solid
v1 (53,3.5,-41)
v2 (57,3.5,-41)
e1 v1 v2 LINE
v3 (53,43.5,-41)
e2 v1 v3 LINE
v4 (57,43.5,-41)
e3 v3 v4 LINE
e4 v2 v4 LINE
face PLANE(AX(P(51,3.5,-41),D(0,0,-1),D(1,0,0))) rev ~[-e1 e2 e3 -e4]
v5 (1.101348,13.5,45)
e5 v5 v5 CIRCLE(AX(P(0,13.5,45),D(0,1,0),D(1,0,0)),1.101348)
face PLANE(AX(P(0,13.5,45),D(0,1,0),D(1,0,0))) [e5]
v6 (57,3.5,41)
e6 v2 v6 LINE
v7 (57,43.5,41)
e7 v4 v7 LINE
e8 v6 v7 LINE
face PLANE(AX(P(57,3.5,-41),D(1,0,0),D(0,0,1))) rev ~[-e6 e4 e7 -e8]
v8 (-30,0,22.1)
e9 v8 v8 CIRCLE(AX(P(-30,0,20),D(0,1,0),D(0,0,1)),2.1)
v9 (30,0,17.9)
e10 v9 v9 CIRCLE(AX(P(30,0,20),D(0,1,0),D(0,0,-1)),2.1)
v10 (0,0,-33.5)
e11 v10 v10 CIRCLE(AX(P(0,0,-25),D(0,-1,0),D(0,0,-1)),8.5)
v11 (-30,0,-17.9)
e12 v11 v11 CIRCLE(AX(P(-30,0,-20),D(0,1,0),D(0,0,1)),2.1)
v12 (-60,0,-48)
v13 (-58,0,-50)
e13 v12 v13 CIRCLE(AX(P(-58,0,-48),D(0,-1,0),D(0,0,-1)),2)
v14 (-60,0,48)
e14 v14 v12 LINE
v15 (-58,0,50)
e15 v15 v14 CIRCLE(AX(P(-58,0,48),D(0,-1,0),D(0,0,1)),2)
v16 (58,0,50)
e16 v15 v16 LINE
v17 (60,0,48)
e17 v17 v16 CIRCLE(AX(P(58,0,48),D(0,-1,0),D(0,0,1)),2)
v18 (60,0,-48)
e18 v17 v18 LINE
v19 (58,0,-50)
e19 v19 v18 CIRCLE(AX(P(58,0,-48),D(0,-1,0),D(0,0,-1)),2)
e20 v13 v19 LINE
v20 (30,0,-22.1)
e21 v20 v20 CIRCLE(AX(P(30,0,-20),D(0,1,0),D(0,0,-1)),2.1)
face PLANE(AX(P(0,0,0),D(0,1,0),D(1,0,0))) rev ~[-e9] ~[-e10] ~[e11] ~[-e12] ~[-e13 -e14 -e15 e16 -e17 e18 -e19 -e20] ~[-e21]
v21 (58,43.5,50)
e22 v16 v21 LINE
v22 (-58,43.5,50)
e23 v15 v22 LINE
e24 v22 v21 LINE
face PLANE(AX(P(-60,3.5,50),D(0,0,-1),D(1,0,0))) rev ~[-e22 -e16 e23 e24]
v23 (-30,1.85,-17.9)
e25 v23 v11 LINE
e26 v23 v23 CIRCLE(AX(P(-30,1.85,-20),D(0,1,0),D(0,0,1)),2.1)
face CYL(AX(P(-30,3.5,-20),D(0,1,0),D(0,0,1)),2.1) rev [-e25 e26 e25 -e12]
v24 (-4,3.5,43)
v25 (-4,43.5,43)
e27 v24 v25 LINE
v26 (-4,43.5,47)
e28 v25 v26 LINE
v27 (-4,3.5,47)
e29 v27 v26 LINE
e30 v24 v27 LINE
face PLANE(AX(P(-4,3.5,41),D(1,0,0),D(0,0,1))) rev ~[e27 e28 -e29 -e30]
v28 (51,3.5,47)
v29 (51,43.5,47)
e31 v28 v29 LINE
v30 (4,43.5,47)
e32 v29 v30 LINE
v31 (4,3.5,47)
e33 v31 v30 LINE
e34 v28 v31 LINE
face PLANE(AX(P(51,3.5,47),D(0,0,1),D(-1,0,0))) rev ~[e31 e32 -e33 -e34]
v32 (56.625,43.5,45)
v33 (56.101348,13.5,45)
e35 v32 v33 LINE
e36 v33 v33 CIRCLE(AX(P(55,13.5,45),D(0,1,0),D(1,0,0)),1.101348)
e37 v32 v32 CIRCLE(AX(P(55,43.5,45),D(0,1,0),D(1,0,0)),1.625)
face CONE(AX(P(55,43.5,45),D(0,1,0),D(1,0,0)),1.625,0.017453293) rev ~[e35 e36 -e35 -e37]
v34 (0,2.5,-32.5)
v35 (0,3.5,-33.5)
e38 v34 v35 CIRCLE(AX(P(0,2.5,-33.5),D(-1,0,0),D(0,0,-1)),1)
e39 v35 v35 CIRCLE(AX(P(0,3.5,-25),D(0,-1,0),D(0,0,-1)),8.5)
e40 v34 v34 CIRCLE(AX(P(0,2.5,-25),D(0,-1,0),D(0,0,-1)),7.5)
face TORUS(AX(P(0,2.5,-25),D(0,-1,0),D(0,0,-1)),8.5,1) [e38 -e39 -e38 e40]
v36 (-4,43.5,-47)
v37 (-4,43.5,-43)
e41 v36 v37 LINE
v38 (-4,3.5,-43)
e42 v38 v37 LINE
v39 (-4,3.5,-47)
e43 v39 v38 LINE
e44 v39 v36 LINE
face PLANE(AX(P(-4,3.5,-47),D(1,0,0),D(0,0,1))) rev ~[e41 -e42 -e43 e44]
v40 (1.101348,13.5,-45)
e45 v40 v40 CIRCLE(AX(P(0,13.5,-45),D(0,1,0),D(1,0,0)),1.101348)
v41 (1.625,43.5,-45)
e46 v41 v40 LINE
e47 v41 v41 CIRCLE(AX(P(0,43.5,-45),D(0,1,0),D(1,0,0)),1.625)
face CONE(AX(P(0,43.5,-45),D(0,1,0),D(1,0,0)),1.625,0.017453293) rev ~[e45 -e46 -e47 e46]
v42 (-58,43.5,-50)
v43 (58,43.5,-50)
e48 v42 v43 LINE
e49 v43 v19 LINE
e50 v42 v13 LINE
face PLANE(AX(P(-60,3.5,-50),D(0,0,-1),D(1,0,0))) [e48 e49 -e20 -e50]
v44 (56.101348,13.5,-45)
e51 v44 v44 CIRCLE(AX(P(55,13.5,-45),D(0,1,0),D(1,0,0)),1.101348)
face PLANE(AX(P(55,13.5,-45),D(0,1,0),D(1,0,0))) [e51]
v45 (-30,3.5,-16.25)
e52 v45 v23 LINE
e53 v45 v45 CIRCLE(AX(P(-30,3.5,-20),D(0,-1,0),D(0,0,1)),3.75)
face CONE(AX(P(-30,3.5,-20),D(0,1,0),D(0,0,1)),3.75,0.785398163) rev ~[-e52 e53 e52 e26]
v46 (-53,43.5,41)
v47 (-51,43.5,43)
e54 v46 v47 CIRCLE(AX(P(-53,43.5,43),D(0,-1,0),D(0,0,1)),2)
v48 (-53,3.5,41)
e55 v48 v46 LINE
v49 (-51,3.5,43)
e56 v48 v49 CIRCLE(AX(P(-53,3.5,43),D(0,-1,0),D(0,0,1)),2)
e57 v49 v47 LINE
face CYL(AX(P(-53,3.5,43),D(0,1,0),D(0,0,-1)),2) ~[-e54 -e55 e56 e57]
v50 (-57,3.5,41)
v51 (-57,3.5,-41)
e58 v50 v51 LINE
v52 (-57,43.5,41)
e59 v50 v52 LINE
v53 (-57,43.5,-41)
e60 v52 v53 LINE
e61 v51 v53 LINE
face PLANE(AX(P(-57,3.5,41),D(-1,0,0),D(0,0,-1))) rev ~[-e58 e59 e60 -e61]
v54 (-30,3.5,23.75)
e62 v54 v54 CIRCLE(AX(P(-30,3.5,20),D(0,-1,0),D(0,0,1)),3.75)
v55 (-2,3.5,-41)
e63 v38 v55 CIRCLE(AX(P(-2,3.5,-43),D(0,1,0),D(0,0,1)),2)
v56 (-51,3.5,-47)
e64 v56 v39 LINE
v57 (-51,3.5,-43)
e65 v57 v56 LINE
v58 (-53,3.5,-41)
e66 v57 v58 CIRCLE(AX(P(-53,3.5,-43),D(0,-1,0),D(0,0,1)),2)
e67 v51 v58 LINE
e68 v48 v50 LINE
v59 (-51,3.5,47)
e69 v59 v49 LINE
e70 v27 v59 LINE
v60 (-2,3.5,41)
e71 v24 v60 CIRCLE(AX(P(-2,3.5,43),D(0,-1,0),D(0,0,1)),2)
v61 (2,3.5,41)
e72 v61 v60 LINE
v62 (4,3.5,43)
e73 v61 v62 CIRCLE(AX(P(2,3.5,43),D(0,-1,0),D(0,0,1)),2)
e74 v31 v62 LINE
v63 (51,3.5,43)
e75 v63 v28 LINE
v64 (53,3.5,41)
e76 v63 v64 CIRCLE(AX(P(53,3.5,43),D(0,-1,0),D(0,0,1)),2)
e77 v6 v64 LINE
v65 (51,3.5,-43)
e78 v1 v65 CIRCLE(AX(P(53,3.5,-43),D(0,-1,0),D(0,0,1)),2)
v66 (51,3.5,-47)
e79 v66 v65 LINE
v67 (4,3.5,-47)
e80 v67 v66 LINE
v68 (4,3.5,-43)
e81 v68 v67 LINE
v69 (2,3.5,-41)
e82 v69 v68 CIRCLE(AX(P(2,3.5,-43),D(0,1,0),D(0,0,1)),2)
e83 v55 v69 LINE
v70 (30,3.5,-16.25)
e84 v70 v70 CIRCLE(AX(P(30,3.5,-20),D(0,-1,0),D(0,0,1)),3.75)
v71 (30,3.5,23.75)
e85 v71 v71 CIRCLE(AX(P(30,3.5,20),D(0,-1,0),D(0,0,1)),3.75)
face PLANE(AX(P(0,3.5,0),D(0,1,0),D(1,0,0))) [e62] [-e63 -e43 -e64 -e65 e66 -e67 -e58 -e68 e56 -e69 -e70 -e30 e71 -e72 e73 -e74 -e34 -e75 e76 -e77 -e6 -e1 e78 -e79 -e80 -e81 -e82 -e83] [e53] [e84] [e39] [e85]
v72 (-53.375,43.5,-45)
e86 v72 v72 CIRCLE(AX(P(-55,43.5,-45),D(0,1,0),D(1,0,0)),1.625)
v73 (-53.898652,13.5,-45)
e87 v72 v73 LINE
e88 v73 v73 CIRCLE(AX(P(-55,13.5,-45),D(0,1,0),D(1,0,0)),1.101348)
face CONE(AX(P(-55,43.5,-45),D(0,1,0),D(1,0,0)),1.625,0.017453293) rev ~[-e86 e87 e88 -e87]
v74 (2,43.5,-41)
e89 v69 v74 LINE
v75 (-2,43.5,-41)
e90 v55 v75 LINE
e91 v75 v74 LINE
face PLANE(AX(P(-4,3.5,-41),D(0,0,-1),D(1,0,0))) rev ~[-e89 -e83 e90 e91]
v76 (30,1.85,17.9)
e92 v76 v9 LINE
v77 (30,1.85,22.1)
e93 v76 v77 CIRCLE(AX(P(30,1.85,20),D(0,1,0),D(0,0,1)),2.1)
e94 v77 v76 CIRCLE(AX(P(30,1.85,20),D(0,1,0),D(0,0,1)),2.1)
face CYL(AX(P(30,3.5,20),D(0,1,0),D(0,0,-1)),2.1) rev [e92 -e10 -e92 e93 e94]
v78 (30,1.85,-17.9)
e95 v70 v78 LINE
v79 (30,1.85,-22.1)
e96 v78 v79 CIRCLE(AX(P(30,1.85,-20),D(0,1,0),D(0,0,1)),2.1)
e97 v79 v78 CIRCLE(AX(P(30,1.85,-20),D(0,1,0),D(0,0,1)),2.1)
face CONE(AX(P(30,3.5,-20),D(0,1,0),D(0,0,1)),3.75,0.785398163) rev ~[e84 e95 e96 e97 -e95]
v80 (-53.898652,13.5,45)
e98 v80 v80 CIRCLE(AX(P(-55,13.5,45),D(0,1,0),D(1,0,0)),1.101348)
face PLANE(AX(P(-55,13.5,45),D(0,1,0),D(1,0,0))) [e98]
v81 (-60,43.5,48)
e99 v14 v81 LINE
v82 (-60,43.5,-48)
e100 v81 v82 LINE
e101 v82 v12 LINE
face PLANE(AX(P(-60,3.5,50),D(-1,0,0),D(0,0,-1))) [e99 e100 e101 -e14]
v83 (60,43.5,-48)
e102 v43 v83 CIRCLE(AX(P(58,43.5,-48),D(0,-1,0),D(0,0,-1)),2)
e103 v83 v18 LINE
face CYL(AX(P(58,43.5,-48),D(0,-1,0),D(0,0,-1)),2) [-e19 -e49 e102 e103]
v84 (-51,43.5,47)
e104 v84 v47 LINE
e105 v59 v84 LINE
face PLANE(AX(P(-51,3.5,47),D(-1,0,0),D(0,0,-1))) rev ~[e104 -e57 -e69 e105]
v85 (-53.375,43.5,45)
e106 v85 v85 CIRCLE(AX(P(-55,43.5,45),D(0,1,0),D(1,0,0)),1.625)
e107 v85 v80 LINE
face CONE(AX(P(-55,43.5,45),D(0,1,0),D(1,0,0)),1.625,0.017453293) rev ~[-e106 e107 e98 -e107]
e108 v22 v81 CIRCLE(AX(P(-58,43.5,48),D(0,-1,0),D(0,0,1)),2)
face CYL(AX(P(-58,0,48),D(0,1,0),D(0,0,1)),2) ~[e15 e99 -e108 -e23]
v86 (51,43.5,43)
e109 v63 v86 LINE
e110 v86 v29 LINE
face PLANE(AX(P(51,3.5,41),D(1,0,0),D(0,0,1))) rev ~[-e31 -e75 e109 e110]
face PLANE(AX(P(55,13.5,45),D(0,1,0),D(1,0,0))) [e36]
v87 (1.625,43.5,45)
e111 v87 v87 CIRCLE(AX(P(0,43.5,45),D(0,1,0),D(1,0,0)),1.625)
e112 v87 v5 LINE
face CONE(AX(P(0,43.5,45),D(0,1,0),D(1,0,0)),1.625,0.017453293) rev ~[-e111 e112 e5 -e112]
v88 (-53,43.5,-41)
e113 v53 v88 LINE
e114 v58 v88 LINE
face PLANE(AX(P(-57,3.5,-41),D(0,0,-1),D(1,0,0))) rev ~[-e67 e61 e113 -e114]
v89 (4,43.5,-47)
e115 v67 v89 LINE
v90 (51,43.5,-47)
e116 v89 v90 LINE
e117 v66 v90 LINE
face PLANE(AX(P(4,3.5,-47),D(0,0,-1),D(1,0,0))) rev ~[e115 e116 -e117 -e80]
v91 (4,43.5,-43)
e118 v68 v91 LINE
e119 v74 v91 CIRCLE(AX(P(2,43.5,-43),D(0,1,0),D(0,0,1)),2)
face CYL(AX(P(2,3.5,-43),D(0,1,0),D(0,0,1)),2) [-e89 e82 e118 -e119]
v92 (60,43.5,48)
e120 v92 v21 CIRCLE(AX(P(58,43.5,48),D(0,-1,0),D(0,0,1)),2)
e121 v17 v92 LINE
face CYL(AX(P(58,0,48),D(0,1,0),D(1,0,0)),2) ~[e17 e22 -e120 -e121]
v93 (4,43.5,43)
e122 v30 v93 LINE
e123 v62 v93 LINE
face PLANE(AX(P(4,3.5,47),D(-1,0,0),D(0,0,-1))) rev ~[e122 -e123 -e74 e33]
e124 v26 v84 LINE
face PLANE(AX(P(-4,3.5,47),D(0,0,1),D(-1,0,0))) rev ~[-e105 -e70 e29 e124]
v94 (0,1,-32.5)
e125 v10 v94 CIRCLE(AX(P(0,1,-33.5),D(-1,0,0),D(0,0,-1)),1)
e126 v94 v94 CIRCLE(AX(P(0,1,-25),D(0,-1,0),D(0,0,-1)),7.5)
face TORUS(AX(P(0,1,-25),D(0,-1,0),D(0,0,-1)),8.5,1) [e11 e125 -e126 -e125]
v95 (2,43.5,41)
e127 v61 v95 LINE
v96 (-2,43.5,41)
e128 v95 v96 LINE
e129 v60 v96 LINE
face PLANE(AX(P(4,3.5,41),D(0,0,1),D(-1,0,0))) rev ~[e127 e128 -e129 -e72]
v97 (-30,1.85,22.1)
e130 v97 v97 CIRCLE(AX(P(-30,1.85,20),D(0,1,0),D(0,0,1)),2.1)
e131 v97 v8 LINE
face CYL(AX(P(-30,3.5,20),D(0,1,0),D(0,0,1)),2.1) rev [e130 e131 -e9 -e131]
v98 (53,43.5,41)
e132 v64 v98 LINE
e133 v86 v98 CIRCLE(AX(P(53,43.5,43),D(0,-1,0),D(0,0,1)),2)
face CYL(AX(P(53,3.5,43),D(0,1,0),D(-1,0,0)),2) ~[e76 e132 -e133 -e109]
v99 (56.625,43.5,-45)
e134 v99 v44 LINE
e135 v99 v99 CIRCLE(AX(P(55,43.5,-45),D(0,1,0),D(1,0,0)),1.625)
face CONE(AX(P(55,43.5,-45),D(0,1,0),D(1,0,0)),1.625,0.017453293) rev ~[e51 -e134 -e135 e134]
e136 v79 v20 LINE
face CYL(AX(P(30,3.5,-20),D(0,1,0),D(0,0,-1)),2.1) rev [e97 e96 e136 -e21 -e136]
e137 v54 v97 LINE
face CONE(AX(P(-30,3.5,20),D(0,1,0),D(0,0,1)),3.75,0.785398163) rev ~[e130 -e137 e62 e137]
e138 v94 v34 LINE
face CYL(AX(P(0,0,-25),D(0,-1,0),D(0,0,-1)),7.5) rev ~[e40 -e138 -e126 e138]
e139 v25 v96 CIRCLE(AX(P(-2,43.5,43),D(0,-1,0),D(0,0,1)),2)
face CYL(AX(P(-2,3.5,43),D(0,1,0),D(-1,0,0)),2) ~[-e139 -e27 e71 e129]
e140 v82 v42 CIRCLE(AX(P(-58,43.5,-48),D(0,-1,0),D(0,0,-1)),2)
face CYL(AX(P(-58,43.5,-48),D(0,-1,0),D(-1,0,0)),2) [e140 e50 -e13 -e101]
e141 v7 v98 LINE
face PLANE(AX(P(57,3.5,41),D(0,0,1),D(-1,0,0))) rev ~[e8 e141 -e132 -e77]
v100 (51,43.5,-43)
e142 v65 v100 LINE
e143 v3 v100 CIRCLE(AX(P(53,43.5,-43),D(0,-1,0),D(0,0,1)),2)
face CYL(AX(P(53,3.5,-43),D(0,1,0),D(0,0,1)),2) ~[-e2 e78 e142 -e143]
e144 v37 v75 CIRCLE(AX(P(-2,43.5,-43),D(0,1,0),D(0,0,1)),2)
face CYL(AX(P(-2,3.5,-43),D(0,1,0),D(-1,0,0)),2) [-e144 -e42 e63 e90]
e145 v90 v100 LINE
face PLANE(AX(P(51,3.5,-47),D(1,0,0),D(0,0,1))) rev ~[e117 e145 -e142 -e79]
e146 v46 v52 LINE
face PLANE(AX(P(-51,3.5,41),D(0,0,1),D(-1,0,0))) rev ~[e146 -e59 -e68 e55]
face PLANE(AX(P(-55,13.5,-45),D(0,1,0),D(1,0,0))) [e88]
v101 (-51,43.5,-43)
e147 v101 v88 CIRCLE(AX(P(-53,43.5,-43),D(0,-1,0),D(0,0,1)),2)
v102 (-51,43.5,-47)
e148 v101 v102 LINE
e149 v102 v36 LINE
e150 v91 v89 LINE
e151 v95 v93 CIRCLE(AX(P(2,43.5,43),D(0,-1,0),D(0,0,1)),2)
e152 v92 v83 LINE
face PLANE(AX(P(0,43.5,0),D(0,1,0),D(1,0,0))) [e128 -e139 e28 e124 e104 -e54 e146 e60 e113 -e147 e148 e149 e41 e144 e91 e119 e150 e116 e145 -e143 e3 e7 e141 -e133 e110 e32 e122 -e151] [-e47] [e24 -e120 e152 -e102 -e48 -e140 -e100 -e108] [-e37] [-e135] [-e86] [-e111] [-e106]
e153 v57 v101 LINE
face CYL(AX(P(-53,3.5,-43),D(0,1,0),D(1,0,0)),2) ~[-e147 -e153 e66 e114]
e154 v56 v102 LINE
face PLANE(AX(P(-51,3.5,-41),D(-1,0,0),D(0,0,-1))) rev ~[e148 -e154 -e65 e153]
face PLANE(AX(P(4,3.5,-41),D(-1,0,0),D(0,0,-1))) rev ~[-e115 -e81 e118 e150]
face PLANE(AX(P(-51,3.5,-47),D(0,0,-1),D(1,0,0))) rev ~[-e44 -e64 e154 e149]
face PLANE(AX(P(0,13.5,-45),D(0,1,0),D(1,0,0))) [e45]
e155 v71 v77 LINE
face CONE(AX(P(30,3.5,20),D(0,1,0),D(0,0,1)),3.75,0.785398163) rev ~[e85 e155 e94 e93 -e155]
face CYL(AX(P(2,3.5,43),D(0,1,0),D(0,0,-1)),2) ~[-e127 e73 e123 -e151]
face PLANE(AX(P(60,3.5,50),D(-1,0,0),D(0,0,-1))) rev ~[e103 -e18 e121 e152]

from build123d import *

# Parameters (mm, degrees)
SKETCH1_W                             = 120
SKETCH1_H                             = 100
BOTTOM_DEPTH                          = 3.5
SKETCH3_W                             = 120
SKETCH3_H                             = 100
WALL_DEPTH                            = 40
SKETCH4_R                             = 1.625
TOP_PLATE_SCREW_HOLES_DEPTH           = 30
TOP_PLATE_SCREW_HOLES_DRAFT           = -1
TOP_PLATE_SCREW_HOLES_PROFILE_2_DEPTH = 30
TOP_PLATE_SCREW_HOLES_PROFILE_2_DRAFT = -1
TOP_PLATE_SCREW_HOLES_PROFILE_3_DEPTH = 30
TOP_PLATE_SCREW_HOLES_PROFILE_3_DRAFT = -1
TOP_PLATE_SCREW_HOLES_PROFILE_4_DEPTH = 30
TOP_PLATE_SCREW_HOLES_PROFILE_4_DRAFT = -1
TOP_PLATE_SCREW_HOLES_PROFILE_5_DEPTH = 30
TOP_PLATE_SCREW_HOLES_PROFILE_5_DRAFT = -1
TOP_PLATE_SCREW_HOLES_PROFILE_6_DEPTH = 30
TOP_PLATE_SCREW_HOLES_PROFILE_6_DRAFT = -1
FILLET14_R                            = 2
FILLET13_R                            = 2
FILLET12_R                            = 2
FILLET11_R                            = 2
FILLET1_R                             = 2
FILLET2_R                             = 2
FILLET3_R                             = 2
FILLET4_R                             = 2
FILLET5_R                             = 2
FILLET6_R                             = 2
FILLET7_R                             = 2
FILLET8_R                             = 2
M4_MOUNT_R                            = 2.1
M4_MOUNT_CUT_DEPTH                    = 88.749643874
SKETCH7_R                             = 7.5
USB_CABEL_CUT_DEPTH                   = 90.399384785
FILLET9_R                             = 1
FILLET10_R                            = 1


with BuildPart() as part:
    # Sketch1 → Bottom (new body)
    with BuildSketch(Plane(origin=(0, 0, 0), x_dir=(1, 0, 0), z_dir=(0, 1, 0))):
        Rectangle(SKETCH1_W, SKETCH1_H)
    extrude(amount=BOTTOM_DEPTH)

    # Sketch3 → Wall (add)
    with BuildSketch(Plane(origin=(0, 3.5, 0), x_dir=(1, 0, 0), z_dir=(0, 1, 0))):
        Rectangle(SKETCH3_W, SKETCH3_H)
        Polygon((-51, 47), (-4, 47), (-4, 41), (4, 41), (4, 47), (51, 47), (51, 41), (57, 41), (57, -41), (51, -41), (51, -47), (4, -47), (4, -41), (-4, -41), (-4, -47), (-51, -47), (-51, -41), (-57, -41), (-57, 41), (-51, 41), align=None, mode=Mode.SUBTRACT)
    extrude(amount=WALL_DEPTH)


with BuildPart() as top_plate_screw_holes_tool:
    # Sketch4 → Top Plate Screw Holes (with draft: the straight prism first)
    with BuildSketch(Plane(origin=(0, 43.5, 0), x_dir=(1, 0, 0), z_dir=(0, 1, 0))):
        with Locations((-55, 45)):
            Circle(SKETCH4_R)
    extrude(amount=-TOP_PLATE_SCREW_HOLES_DEPTH)
    # Top Plate Screw Holes: the draft: its side faces are tilted about the plane it starts from
    top_plate_screw_holes_sides = [top_plate_screw_holes_tool.faces().sort_by_distance(p)[0] for p in [
        (-56.625, 28.5, -45),
    ]]
    draft(top_plate_screw_holes_sides, Plane(origin=(0, 43.5, 0), x_dir=(1, 0, 0), z_dir=(0, 1, 0)), TOP_PLATE_SCREW_HOLES_DRAFT)


with BuildPart() as part_1:
    add(part.part)

    # Top Plate Screw Holes: cut by top_plate_screw_holes_tool
    add(top_plate_screw_holes_tool.part, mode=Mode.SUBTRACT)


with BuildPart() as top_plate_screw_holes_profile_2_tool:
    # Sketch4 → Top Plate Screw Holes profile 2 (with draft: the straight prism first)
    with BuildSketch(Plane(origin=(0, 43.5, 0), x_dir=(1, 0, 0), z_dir=(0, 1, 0))):
        with Locations((55, 45)):
            Circle(SKETCH4_R)
    extrude(amount=-TOP_PLATE_SCREW_HOLES_PROFILE_2_DEPTH)
    # Top Plate Screw Holes profile 2: the draft: its side faces are tilted about the plane it starts from
    top_plate_screw_holes_profile_2_sides = [top_plate_screw_holes_profile_2_tool.faces().sort_by_distance(p)[0] for p in [
        (53.375, 28.5, -45),
    ]]
    draft(top_plate_screw_holes_profile_2_sides, Plane(origin=(0, 43.5, 0), x_dir=(1, 0, 0), z_dir=(0, 1, 0)), TOP_PLATE_SCREW_HOLES_PROFILE_2_DRAFT)


with BuildPart() as part_2:
    add(part_1.part)

    # Top Plate Screw Holes profile 2: cut by top_plate_screw_holes_profile_2_tool
    add(top_plate_screw_holes_profile_2_tool.part, mode=Mode.SUBTRACT)


with BuildPart() as top_plate_screw_holes_profile_3_tool:
    # Sketch4 → Top Plate Screw Holes profile 3 (with draft: the straight prism first)
    with BuildSketch(Plane(origin=(0, 43.5, 0), x_dir=(1, 0, 0), z_dir=(0, 1, 0))):
        with Locations((55, -45)):
            Circle(SKETCH4_R)
    extrude(amount=-TOP_PLATE_SCREW_HOLES_PROFILE_3_DEPTH)
    # Top Plate Screw Holes profile 3: the draft: its side faces are tilted about the plane it starts from
    top_plate_screw_holes_profile_3_sides = [top_plate_screw_holes_profile_3_tool.faces().sort_by_distance(p)[0] for p in [
        (53.375, 28.5, 45),
    ]]
    draft(top_plate_screw_holes_profile_3_sides, Plane(origin=(0, 43.5, 0), x_dir=(1, 0, 0), z_dir=(0, 1, 0)), TOP_PLATE_SCREW_HOLES_PROFILE_3_DRAFT)


with BuildPart() as part_3:
    add(part_2.part)

    # Top Plate Screw Holes profile 3: cut by top_plate_screw_holes_profile_3_tool
    add(top_plate_screw_holes_profile_3_tool.part, mode=Mode.SUBTRACT)


with BuildPart() as top_plate_screw_holes_profile_4_tool:
    # Sketch4 → Top Plate Screw Holes profile 4 (with draft: the straight prism first)
    with BuildSketch(Plane(origin=(0, 43.5, 0), x_dir=(1, 0, 0), z_dir=(0, 1, 0))):
        with Locations((-55, -45)):
            Circle(SKETCH4_R)
    extrude(amount=-TOP_PLATE_SCREW_HOLES_PROFILE_4_DEPTH)
    # Top Plate Screw Holes profile 4: the draft: its side faces are tilted about the plane it starts from
    top_plate_screw_holes_profile_4_sides = [top_plate_screw_holes_profile_4_tool.faces().sort_by_distance(p)[0] for p in [
        (-56.625, 28.5, 45),
    ]]
    draft(top_plate_screw_holes_profile_4_sides, Plane(origin=(0, 43.5, 0), x_dir=(1, 0, 0), z_dir=(0, 1, 0)), TOP_PLATE_SCREW_HOLES_PROFILE_4_DRAFT)


with BuildPart() as part_4:
    add(part_3.part)

    # Top Plate Screw Holes profile 4: cut by top_plate_screw_holes_profile_4_tool
    add(top_plate_screw_holes_profile_4_tool.part, mode=Mode.SUBTRACT)


with BuildPart() as top_plate_screw_holes_profile_5_tool:
    # Sketch4 → Top Plate Screw Holes profile 5 (with draft: the straight prism first)
    with BuildSketch(Plane(origin=(0, 43.5, 0), x_dir=(1, 0, 0), z_dir=(0, 1, 0))):
        with Locations((0, 45)):
            Circle(SKETCH4_R)
    extrude(amount=-TOP_PLATE_SCREW_HOLES_PROFILE_5_DEPTH)
    # Top Plate Screw Holes profile 5: the draft: its side faces are tilted about the plane it starts from
    top_plate_screw_holes_profile_5_sides = [top_plate_screw_holes_profile_5_tool.faces().sort_by_distance(p)[0] for p in [
        (-1.625, 28.5, -45),
    ]]
    draft(top_plate_screw_holes_profile_5_sides, Plane(origin=(0, 43.5, 0), x_dir=(1, 0, 0), z_dir=(0, 1, 0)), TOP_PLATE_SCREW_HOLES_PROFILE_5_DRAFT)


with BuildPart() as part_5:
    add(part_4.part)

    # Top Plate Screw Holes profile 5: cut by top_plate_screw_holes_profile_5_tool
    add(top_plate_screw_holes_profile_5_tool.part, mode=Mode.SUBTRACT)


with BuildPart() as top_plate_screw_holes_profile_6_tool:
    # Sketch4 → Top Plate Screw Holes profile 6 (with draft: the straight prism first)
    with BuildSketch(Plane(origin=(0, 43.5, 0), x_dir=(1, 0, 0), z_dir=(0, 1, 0))):
        with Locations((0, -45)):
            Circle(SKETCH4_R)
    extrude(amount=-TOP_PLATE_SCREW_HOLES_PROFILE_6_DEPTH)
    # Top Plate Screw Holes profile 6: the draft: its side faces are tilted about the plane it starts from
    top_plate_screw_holes_profile_6_sides = [top_plate_screw_holes_profile_6_tool.faces().sort_by_distance(p)[0] for p in [
        (-1.625, 28.5, 45),
    ]]
    draft(top_plate_screw_holes_profile_6_sides, Plane(origin=(0, 43.5, 0), x_dir=(1, 0, 0), z_dir=(0, 1, 0)), TOP_PLATE_SCREW_HOLES_PROFILE_6_DRAFT)


with BuildPart() as part_6:
    add(part_5.part)

    # Top Plate Screw Holes profile 6: cut by top_plate_screw_holes_profile_6_tool
    add(top_plate_screw_holes_profile_6_tool.part, mode=Mode.SUBTRACT)

    # Fillet14
    fillet14_edges = [part_6.edges().sort_by_distance(p)[0] for p in [
        (-4, 23.5, 41),
    ]]
    fillet(fillet14_edges, radius=FILLET14_R)

    # Fillet13
    fillet13_edges = [part_6.edges().sort_by_distance(p)[0] for p in [
        (4, 23.5, 41),
    ]]
    fillet(fillet13_edges, radius=FILLET13_R)

    # Fillet12
    fillet12_edges = [part_6.edges().sort_by_distance(p)[0] for p in [
        (-4, 23.5, -41),
    ]]
    fillet(fillet12_edges, radius=FILLET12_R)

    # Fillet11
    fillet11_edges = [part_6.edges().sort_by_distance(p)[0] for p in [
        (4, 23.5, -41),
    ]]
    fillet(fillet11_edges, radius=FILLET11_R)

    # Fillet1
    fillet1_edges = [part_6.edges().sort_by_distance(p)[0] for p in [
        (-51, 23.5, 41),
    ]]
    fillet(fillet1_edges, radius=FILLET1_R)

    # Fillet2
    fillet2_edges = [part_6.edges().sort_by_distance(p)[0] for p in [
        (51, 23.5, 41),
    ]]
    fillet(fillet2_edges, radius=FILLET2_R)

    # Fillet3
    fillet3_edges = [part_6.edges().sort_by_distance(p)[0] for p in [
        (51, 23.5, -41),
    ]]
    fillet(fillet3_edges, radius=FILLET3_R)

    # Fillet4
    fillet4_edges = [part_6.edges().sort_by_distance(p)[0] for p in [
        (-51, 23.5, -41),
    ]]
    fillet(fillet4_edges, radius=FILLET4_R)

    # Fillet5
    fillet5_edges = [part_6.edges().sort_by_distance(p)[0] for p in [
        (-60, 21.75, -50),
    ]]
    fillet(fillet5_edges, radius=FILLET5_R)

    # Fillet6
    fillet6_edges = [part_6.edges().sort_by_distance(p)[0] for p in [
        (60, 21.75, -50),
    ]]
    fillet(fillet6_edges, radius=FILLET6_R)

    # Fillet7
    fillet7_edges = [part_6.edges().sort_by_distance(p)[0] for p in [
        (60, 21.75, 50),
    ]]
    fillet(fillet7_edges, radius=FILLET7_R)

    # Fillet8
    fillet8_edges = [part_6.edges().sort_by_distance(p)[0] for p in [
        (-60, 21.75, 50),
    ]]
    fillet(fillet8_edges, radius=FILLET8_R)

    # M4 Mount → M4 Mount Cut (cut, through all)
    with BuildSketch(Plane.XZ.offset(-3.5)):
        with Locations(Location((30, -20, 0), (0, 0, 270))):
            Circle(M4_MOUNT_R)
        with Locations(Location((30, 20, 0), (0, 0, 270))):
            Circle(M4_MOUNT_R)
        with Locations(Location((-30, 20, 0), (0, 0, 90))):
            Circle(M4_MOUNT_R)
        with Locations(Location((-30, -20, 0), (0, 0, 90))):
            Circle(M4_MOUNT_R)
    extrude(amount=M4_MOUNT_CUT_DEPTH, mode=Mode.SUBTRACT)

    # Cut-Extrude3 cone 1 section (through the dimple's axis) → Cut-Extrude3 (revolve, cut)
    with BuildSketch(Plane(origin=(30, 3.5, 20), x_dir=(0, 0, 1), z_dir=(1, 0, 0))):
        Polygon((0, 0), (3.75, 0), (0, 3.75), align=None)
    revolve(axis=Axis((30, 3.5, 20), (0, -1, 0)), mode=Mode.SUBTRACT)

    # Cut-Extrude3 cone 2 section (through the dimple's axis) → Cut-Extrude3 cone 2 (revolve, cut)
    with BuildSketch(Plane(origin=(30, 3.5, -20), x_dir=(0, 0, 1), z_dir=(1, 0, 0))):
        Polygon((0, 0), (3.75, 0), (0, 3.75), align=None)
    revolve(axis=Axis((30, 3.5, -20), (0, -1, 0)), mode=Mode.SUBTRACT)

    # Cut-Extrude3 cone 3 section (through the dimple's axis) → Cut-Extrude3 cone 3 (revolve, cut)
    with BuildSketch(Plane(origin=(-30, 3.5, -20), x_dir=(0, 0, 1), z_dir=(1, 0, 0))):
        Polygon((0, 0), (3.75, 0), (0, 3.75), align=None)
    revolve(axis=Axis((-30, 3.5, -20), (0, -1, 0)), mode=Mode.SUBTRACT)

    # Cut-Extrude3 cone 4 section (through the dimple's axis) → Cut-Extrude3 cone 4 (revolve, cut)
    with BuildSketch(Plane(origin=(-30, 3.5, 20), x_dir=(0, 0, 1), z_dir=(1, 0, 0))):
        Polygon((0, 0), (3.75, 0), (0, 3.75), align=None)
    revolve(axis=Axis((-30, 3.5, 20), (0, -1, 0)), mode=Mode.SUBTRACT)

    # Sketch7 → USB Cabel Cut (cut, through all)
    with BuildSketch(Plane.XZ):
        with Locations(Location((0, -25, 0), (0, 0, 270))):
            Circle(SKETCH7_R)
    extrude(amount=-USB_CABEL_CUT_DEPTH, mode=Mode.SUBTRACT)

    # Fillet9
    fillet9_edges = [part_6.edges().sort_by_distance(p)[0] for p in [
        (0, 0, -17.5),
    ]]
    fillet(fillet9_edges, radius=FILLET9_R)

    # Fillet10
    fillet10_edges = [part_6.edges().sort_by_distance(p)[0] for p in [
        (0, 3.5, -17.5),
    ]]
    fillet(fillet10_edges, radius=FILLET10_R)


solid = part_6.part
